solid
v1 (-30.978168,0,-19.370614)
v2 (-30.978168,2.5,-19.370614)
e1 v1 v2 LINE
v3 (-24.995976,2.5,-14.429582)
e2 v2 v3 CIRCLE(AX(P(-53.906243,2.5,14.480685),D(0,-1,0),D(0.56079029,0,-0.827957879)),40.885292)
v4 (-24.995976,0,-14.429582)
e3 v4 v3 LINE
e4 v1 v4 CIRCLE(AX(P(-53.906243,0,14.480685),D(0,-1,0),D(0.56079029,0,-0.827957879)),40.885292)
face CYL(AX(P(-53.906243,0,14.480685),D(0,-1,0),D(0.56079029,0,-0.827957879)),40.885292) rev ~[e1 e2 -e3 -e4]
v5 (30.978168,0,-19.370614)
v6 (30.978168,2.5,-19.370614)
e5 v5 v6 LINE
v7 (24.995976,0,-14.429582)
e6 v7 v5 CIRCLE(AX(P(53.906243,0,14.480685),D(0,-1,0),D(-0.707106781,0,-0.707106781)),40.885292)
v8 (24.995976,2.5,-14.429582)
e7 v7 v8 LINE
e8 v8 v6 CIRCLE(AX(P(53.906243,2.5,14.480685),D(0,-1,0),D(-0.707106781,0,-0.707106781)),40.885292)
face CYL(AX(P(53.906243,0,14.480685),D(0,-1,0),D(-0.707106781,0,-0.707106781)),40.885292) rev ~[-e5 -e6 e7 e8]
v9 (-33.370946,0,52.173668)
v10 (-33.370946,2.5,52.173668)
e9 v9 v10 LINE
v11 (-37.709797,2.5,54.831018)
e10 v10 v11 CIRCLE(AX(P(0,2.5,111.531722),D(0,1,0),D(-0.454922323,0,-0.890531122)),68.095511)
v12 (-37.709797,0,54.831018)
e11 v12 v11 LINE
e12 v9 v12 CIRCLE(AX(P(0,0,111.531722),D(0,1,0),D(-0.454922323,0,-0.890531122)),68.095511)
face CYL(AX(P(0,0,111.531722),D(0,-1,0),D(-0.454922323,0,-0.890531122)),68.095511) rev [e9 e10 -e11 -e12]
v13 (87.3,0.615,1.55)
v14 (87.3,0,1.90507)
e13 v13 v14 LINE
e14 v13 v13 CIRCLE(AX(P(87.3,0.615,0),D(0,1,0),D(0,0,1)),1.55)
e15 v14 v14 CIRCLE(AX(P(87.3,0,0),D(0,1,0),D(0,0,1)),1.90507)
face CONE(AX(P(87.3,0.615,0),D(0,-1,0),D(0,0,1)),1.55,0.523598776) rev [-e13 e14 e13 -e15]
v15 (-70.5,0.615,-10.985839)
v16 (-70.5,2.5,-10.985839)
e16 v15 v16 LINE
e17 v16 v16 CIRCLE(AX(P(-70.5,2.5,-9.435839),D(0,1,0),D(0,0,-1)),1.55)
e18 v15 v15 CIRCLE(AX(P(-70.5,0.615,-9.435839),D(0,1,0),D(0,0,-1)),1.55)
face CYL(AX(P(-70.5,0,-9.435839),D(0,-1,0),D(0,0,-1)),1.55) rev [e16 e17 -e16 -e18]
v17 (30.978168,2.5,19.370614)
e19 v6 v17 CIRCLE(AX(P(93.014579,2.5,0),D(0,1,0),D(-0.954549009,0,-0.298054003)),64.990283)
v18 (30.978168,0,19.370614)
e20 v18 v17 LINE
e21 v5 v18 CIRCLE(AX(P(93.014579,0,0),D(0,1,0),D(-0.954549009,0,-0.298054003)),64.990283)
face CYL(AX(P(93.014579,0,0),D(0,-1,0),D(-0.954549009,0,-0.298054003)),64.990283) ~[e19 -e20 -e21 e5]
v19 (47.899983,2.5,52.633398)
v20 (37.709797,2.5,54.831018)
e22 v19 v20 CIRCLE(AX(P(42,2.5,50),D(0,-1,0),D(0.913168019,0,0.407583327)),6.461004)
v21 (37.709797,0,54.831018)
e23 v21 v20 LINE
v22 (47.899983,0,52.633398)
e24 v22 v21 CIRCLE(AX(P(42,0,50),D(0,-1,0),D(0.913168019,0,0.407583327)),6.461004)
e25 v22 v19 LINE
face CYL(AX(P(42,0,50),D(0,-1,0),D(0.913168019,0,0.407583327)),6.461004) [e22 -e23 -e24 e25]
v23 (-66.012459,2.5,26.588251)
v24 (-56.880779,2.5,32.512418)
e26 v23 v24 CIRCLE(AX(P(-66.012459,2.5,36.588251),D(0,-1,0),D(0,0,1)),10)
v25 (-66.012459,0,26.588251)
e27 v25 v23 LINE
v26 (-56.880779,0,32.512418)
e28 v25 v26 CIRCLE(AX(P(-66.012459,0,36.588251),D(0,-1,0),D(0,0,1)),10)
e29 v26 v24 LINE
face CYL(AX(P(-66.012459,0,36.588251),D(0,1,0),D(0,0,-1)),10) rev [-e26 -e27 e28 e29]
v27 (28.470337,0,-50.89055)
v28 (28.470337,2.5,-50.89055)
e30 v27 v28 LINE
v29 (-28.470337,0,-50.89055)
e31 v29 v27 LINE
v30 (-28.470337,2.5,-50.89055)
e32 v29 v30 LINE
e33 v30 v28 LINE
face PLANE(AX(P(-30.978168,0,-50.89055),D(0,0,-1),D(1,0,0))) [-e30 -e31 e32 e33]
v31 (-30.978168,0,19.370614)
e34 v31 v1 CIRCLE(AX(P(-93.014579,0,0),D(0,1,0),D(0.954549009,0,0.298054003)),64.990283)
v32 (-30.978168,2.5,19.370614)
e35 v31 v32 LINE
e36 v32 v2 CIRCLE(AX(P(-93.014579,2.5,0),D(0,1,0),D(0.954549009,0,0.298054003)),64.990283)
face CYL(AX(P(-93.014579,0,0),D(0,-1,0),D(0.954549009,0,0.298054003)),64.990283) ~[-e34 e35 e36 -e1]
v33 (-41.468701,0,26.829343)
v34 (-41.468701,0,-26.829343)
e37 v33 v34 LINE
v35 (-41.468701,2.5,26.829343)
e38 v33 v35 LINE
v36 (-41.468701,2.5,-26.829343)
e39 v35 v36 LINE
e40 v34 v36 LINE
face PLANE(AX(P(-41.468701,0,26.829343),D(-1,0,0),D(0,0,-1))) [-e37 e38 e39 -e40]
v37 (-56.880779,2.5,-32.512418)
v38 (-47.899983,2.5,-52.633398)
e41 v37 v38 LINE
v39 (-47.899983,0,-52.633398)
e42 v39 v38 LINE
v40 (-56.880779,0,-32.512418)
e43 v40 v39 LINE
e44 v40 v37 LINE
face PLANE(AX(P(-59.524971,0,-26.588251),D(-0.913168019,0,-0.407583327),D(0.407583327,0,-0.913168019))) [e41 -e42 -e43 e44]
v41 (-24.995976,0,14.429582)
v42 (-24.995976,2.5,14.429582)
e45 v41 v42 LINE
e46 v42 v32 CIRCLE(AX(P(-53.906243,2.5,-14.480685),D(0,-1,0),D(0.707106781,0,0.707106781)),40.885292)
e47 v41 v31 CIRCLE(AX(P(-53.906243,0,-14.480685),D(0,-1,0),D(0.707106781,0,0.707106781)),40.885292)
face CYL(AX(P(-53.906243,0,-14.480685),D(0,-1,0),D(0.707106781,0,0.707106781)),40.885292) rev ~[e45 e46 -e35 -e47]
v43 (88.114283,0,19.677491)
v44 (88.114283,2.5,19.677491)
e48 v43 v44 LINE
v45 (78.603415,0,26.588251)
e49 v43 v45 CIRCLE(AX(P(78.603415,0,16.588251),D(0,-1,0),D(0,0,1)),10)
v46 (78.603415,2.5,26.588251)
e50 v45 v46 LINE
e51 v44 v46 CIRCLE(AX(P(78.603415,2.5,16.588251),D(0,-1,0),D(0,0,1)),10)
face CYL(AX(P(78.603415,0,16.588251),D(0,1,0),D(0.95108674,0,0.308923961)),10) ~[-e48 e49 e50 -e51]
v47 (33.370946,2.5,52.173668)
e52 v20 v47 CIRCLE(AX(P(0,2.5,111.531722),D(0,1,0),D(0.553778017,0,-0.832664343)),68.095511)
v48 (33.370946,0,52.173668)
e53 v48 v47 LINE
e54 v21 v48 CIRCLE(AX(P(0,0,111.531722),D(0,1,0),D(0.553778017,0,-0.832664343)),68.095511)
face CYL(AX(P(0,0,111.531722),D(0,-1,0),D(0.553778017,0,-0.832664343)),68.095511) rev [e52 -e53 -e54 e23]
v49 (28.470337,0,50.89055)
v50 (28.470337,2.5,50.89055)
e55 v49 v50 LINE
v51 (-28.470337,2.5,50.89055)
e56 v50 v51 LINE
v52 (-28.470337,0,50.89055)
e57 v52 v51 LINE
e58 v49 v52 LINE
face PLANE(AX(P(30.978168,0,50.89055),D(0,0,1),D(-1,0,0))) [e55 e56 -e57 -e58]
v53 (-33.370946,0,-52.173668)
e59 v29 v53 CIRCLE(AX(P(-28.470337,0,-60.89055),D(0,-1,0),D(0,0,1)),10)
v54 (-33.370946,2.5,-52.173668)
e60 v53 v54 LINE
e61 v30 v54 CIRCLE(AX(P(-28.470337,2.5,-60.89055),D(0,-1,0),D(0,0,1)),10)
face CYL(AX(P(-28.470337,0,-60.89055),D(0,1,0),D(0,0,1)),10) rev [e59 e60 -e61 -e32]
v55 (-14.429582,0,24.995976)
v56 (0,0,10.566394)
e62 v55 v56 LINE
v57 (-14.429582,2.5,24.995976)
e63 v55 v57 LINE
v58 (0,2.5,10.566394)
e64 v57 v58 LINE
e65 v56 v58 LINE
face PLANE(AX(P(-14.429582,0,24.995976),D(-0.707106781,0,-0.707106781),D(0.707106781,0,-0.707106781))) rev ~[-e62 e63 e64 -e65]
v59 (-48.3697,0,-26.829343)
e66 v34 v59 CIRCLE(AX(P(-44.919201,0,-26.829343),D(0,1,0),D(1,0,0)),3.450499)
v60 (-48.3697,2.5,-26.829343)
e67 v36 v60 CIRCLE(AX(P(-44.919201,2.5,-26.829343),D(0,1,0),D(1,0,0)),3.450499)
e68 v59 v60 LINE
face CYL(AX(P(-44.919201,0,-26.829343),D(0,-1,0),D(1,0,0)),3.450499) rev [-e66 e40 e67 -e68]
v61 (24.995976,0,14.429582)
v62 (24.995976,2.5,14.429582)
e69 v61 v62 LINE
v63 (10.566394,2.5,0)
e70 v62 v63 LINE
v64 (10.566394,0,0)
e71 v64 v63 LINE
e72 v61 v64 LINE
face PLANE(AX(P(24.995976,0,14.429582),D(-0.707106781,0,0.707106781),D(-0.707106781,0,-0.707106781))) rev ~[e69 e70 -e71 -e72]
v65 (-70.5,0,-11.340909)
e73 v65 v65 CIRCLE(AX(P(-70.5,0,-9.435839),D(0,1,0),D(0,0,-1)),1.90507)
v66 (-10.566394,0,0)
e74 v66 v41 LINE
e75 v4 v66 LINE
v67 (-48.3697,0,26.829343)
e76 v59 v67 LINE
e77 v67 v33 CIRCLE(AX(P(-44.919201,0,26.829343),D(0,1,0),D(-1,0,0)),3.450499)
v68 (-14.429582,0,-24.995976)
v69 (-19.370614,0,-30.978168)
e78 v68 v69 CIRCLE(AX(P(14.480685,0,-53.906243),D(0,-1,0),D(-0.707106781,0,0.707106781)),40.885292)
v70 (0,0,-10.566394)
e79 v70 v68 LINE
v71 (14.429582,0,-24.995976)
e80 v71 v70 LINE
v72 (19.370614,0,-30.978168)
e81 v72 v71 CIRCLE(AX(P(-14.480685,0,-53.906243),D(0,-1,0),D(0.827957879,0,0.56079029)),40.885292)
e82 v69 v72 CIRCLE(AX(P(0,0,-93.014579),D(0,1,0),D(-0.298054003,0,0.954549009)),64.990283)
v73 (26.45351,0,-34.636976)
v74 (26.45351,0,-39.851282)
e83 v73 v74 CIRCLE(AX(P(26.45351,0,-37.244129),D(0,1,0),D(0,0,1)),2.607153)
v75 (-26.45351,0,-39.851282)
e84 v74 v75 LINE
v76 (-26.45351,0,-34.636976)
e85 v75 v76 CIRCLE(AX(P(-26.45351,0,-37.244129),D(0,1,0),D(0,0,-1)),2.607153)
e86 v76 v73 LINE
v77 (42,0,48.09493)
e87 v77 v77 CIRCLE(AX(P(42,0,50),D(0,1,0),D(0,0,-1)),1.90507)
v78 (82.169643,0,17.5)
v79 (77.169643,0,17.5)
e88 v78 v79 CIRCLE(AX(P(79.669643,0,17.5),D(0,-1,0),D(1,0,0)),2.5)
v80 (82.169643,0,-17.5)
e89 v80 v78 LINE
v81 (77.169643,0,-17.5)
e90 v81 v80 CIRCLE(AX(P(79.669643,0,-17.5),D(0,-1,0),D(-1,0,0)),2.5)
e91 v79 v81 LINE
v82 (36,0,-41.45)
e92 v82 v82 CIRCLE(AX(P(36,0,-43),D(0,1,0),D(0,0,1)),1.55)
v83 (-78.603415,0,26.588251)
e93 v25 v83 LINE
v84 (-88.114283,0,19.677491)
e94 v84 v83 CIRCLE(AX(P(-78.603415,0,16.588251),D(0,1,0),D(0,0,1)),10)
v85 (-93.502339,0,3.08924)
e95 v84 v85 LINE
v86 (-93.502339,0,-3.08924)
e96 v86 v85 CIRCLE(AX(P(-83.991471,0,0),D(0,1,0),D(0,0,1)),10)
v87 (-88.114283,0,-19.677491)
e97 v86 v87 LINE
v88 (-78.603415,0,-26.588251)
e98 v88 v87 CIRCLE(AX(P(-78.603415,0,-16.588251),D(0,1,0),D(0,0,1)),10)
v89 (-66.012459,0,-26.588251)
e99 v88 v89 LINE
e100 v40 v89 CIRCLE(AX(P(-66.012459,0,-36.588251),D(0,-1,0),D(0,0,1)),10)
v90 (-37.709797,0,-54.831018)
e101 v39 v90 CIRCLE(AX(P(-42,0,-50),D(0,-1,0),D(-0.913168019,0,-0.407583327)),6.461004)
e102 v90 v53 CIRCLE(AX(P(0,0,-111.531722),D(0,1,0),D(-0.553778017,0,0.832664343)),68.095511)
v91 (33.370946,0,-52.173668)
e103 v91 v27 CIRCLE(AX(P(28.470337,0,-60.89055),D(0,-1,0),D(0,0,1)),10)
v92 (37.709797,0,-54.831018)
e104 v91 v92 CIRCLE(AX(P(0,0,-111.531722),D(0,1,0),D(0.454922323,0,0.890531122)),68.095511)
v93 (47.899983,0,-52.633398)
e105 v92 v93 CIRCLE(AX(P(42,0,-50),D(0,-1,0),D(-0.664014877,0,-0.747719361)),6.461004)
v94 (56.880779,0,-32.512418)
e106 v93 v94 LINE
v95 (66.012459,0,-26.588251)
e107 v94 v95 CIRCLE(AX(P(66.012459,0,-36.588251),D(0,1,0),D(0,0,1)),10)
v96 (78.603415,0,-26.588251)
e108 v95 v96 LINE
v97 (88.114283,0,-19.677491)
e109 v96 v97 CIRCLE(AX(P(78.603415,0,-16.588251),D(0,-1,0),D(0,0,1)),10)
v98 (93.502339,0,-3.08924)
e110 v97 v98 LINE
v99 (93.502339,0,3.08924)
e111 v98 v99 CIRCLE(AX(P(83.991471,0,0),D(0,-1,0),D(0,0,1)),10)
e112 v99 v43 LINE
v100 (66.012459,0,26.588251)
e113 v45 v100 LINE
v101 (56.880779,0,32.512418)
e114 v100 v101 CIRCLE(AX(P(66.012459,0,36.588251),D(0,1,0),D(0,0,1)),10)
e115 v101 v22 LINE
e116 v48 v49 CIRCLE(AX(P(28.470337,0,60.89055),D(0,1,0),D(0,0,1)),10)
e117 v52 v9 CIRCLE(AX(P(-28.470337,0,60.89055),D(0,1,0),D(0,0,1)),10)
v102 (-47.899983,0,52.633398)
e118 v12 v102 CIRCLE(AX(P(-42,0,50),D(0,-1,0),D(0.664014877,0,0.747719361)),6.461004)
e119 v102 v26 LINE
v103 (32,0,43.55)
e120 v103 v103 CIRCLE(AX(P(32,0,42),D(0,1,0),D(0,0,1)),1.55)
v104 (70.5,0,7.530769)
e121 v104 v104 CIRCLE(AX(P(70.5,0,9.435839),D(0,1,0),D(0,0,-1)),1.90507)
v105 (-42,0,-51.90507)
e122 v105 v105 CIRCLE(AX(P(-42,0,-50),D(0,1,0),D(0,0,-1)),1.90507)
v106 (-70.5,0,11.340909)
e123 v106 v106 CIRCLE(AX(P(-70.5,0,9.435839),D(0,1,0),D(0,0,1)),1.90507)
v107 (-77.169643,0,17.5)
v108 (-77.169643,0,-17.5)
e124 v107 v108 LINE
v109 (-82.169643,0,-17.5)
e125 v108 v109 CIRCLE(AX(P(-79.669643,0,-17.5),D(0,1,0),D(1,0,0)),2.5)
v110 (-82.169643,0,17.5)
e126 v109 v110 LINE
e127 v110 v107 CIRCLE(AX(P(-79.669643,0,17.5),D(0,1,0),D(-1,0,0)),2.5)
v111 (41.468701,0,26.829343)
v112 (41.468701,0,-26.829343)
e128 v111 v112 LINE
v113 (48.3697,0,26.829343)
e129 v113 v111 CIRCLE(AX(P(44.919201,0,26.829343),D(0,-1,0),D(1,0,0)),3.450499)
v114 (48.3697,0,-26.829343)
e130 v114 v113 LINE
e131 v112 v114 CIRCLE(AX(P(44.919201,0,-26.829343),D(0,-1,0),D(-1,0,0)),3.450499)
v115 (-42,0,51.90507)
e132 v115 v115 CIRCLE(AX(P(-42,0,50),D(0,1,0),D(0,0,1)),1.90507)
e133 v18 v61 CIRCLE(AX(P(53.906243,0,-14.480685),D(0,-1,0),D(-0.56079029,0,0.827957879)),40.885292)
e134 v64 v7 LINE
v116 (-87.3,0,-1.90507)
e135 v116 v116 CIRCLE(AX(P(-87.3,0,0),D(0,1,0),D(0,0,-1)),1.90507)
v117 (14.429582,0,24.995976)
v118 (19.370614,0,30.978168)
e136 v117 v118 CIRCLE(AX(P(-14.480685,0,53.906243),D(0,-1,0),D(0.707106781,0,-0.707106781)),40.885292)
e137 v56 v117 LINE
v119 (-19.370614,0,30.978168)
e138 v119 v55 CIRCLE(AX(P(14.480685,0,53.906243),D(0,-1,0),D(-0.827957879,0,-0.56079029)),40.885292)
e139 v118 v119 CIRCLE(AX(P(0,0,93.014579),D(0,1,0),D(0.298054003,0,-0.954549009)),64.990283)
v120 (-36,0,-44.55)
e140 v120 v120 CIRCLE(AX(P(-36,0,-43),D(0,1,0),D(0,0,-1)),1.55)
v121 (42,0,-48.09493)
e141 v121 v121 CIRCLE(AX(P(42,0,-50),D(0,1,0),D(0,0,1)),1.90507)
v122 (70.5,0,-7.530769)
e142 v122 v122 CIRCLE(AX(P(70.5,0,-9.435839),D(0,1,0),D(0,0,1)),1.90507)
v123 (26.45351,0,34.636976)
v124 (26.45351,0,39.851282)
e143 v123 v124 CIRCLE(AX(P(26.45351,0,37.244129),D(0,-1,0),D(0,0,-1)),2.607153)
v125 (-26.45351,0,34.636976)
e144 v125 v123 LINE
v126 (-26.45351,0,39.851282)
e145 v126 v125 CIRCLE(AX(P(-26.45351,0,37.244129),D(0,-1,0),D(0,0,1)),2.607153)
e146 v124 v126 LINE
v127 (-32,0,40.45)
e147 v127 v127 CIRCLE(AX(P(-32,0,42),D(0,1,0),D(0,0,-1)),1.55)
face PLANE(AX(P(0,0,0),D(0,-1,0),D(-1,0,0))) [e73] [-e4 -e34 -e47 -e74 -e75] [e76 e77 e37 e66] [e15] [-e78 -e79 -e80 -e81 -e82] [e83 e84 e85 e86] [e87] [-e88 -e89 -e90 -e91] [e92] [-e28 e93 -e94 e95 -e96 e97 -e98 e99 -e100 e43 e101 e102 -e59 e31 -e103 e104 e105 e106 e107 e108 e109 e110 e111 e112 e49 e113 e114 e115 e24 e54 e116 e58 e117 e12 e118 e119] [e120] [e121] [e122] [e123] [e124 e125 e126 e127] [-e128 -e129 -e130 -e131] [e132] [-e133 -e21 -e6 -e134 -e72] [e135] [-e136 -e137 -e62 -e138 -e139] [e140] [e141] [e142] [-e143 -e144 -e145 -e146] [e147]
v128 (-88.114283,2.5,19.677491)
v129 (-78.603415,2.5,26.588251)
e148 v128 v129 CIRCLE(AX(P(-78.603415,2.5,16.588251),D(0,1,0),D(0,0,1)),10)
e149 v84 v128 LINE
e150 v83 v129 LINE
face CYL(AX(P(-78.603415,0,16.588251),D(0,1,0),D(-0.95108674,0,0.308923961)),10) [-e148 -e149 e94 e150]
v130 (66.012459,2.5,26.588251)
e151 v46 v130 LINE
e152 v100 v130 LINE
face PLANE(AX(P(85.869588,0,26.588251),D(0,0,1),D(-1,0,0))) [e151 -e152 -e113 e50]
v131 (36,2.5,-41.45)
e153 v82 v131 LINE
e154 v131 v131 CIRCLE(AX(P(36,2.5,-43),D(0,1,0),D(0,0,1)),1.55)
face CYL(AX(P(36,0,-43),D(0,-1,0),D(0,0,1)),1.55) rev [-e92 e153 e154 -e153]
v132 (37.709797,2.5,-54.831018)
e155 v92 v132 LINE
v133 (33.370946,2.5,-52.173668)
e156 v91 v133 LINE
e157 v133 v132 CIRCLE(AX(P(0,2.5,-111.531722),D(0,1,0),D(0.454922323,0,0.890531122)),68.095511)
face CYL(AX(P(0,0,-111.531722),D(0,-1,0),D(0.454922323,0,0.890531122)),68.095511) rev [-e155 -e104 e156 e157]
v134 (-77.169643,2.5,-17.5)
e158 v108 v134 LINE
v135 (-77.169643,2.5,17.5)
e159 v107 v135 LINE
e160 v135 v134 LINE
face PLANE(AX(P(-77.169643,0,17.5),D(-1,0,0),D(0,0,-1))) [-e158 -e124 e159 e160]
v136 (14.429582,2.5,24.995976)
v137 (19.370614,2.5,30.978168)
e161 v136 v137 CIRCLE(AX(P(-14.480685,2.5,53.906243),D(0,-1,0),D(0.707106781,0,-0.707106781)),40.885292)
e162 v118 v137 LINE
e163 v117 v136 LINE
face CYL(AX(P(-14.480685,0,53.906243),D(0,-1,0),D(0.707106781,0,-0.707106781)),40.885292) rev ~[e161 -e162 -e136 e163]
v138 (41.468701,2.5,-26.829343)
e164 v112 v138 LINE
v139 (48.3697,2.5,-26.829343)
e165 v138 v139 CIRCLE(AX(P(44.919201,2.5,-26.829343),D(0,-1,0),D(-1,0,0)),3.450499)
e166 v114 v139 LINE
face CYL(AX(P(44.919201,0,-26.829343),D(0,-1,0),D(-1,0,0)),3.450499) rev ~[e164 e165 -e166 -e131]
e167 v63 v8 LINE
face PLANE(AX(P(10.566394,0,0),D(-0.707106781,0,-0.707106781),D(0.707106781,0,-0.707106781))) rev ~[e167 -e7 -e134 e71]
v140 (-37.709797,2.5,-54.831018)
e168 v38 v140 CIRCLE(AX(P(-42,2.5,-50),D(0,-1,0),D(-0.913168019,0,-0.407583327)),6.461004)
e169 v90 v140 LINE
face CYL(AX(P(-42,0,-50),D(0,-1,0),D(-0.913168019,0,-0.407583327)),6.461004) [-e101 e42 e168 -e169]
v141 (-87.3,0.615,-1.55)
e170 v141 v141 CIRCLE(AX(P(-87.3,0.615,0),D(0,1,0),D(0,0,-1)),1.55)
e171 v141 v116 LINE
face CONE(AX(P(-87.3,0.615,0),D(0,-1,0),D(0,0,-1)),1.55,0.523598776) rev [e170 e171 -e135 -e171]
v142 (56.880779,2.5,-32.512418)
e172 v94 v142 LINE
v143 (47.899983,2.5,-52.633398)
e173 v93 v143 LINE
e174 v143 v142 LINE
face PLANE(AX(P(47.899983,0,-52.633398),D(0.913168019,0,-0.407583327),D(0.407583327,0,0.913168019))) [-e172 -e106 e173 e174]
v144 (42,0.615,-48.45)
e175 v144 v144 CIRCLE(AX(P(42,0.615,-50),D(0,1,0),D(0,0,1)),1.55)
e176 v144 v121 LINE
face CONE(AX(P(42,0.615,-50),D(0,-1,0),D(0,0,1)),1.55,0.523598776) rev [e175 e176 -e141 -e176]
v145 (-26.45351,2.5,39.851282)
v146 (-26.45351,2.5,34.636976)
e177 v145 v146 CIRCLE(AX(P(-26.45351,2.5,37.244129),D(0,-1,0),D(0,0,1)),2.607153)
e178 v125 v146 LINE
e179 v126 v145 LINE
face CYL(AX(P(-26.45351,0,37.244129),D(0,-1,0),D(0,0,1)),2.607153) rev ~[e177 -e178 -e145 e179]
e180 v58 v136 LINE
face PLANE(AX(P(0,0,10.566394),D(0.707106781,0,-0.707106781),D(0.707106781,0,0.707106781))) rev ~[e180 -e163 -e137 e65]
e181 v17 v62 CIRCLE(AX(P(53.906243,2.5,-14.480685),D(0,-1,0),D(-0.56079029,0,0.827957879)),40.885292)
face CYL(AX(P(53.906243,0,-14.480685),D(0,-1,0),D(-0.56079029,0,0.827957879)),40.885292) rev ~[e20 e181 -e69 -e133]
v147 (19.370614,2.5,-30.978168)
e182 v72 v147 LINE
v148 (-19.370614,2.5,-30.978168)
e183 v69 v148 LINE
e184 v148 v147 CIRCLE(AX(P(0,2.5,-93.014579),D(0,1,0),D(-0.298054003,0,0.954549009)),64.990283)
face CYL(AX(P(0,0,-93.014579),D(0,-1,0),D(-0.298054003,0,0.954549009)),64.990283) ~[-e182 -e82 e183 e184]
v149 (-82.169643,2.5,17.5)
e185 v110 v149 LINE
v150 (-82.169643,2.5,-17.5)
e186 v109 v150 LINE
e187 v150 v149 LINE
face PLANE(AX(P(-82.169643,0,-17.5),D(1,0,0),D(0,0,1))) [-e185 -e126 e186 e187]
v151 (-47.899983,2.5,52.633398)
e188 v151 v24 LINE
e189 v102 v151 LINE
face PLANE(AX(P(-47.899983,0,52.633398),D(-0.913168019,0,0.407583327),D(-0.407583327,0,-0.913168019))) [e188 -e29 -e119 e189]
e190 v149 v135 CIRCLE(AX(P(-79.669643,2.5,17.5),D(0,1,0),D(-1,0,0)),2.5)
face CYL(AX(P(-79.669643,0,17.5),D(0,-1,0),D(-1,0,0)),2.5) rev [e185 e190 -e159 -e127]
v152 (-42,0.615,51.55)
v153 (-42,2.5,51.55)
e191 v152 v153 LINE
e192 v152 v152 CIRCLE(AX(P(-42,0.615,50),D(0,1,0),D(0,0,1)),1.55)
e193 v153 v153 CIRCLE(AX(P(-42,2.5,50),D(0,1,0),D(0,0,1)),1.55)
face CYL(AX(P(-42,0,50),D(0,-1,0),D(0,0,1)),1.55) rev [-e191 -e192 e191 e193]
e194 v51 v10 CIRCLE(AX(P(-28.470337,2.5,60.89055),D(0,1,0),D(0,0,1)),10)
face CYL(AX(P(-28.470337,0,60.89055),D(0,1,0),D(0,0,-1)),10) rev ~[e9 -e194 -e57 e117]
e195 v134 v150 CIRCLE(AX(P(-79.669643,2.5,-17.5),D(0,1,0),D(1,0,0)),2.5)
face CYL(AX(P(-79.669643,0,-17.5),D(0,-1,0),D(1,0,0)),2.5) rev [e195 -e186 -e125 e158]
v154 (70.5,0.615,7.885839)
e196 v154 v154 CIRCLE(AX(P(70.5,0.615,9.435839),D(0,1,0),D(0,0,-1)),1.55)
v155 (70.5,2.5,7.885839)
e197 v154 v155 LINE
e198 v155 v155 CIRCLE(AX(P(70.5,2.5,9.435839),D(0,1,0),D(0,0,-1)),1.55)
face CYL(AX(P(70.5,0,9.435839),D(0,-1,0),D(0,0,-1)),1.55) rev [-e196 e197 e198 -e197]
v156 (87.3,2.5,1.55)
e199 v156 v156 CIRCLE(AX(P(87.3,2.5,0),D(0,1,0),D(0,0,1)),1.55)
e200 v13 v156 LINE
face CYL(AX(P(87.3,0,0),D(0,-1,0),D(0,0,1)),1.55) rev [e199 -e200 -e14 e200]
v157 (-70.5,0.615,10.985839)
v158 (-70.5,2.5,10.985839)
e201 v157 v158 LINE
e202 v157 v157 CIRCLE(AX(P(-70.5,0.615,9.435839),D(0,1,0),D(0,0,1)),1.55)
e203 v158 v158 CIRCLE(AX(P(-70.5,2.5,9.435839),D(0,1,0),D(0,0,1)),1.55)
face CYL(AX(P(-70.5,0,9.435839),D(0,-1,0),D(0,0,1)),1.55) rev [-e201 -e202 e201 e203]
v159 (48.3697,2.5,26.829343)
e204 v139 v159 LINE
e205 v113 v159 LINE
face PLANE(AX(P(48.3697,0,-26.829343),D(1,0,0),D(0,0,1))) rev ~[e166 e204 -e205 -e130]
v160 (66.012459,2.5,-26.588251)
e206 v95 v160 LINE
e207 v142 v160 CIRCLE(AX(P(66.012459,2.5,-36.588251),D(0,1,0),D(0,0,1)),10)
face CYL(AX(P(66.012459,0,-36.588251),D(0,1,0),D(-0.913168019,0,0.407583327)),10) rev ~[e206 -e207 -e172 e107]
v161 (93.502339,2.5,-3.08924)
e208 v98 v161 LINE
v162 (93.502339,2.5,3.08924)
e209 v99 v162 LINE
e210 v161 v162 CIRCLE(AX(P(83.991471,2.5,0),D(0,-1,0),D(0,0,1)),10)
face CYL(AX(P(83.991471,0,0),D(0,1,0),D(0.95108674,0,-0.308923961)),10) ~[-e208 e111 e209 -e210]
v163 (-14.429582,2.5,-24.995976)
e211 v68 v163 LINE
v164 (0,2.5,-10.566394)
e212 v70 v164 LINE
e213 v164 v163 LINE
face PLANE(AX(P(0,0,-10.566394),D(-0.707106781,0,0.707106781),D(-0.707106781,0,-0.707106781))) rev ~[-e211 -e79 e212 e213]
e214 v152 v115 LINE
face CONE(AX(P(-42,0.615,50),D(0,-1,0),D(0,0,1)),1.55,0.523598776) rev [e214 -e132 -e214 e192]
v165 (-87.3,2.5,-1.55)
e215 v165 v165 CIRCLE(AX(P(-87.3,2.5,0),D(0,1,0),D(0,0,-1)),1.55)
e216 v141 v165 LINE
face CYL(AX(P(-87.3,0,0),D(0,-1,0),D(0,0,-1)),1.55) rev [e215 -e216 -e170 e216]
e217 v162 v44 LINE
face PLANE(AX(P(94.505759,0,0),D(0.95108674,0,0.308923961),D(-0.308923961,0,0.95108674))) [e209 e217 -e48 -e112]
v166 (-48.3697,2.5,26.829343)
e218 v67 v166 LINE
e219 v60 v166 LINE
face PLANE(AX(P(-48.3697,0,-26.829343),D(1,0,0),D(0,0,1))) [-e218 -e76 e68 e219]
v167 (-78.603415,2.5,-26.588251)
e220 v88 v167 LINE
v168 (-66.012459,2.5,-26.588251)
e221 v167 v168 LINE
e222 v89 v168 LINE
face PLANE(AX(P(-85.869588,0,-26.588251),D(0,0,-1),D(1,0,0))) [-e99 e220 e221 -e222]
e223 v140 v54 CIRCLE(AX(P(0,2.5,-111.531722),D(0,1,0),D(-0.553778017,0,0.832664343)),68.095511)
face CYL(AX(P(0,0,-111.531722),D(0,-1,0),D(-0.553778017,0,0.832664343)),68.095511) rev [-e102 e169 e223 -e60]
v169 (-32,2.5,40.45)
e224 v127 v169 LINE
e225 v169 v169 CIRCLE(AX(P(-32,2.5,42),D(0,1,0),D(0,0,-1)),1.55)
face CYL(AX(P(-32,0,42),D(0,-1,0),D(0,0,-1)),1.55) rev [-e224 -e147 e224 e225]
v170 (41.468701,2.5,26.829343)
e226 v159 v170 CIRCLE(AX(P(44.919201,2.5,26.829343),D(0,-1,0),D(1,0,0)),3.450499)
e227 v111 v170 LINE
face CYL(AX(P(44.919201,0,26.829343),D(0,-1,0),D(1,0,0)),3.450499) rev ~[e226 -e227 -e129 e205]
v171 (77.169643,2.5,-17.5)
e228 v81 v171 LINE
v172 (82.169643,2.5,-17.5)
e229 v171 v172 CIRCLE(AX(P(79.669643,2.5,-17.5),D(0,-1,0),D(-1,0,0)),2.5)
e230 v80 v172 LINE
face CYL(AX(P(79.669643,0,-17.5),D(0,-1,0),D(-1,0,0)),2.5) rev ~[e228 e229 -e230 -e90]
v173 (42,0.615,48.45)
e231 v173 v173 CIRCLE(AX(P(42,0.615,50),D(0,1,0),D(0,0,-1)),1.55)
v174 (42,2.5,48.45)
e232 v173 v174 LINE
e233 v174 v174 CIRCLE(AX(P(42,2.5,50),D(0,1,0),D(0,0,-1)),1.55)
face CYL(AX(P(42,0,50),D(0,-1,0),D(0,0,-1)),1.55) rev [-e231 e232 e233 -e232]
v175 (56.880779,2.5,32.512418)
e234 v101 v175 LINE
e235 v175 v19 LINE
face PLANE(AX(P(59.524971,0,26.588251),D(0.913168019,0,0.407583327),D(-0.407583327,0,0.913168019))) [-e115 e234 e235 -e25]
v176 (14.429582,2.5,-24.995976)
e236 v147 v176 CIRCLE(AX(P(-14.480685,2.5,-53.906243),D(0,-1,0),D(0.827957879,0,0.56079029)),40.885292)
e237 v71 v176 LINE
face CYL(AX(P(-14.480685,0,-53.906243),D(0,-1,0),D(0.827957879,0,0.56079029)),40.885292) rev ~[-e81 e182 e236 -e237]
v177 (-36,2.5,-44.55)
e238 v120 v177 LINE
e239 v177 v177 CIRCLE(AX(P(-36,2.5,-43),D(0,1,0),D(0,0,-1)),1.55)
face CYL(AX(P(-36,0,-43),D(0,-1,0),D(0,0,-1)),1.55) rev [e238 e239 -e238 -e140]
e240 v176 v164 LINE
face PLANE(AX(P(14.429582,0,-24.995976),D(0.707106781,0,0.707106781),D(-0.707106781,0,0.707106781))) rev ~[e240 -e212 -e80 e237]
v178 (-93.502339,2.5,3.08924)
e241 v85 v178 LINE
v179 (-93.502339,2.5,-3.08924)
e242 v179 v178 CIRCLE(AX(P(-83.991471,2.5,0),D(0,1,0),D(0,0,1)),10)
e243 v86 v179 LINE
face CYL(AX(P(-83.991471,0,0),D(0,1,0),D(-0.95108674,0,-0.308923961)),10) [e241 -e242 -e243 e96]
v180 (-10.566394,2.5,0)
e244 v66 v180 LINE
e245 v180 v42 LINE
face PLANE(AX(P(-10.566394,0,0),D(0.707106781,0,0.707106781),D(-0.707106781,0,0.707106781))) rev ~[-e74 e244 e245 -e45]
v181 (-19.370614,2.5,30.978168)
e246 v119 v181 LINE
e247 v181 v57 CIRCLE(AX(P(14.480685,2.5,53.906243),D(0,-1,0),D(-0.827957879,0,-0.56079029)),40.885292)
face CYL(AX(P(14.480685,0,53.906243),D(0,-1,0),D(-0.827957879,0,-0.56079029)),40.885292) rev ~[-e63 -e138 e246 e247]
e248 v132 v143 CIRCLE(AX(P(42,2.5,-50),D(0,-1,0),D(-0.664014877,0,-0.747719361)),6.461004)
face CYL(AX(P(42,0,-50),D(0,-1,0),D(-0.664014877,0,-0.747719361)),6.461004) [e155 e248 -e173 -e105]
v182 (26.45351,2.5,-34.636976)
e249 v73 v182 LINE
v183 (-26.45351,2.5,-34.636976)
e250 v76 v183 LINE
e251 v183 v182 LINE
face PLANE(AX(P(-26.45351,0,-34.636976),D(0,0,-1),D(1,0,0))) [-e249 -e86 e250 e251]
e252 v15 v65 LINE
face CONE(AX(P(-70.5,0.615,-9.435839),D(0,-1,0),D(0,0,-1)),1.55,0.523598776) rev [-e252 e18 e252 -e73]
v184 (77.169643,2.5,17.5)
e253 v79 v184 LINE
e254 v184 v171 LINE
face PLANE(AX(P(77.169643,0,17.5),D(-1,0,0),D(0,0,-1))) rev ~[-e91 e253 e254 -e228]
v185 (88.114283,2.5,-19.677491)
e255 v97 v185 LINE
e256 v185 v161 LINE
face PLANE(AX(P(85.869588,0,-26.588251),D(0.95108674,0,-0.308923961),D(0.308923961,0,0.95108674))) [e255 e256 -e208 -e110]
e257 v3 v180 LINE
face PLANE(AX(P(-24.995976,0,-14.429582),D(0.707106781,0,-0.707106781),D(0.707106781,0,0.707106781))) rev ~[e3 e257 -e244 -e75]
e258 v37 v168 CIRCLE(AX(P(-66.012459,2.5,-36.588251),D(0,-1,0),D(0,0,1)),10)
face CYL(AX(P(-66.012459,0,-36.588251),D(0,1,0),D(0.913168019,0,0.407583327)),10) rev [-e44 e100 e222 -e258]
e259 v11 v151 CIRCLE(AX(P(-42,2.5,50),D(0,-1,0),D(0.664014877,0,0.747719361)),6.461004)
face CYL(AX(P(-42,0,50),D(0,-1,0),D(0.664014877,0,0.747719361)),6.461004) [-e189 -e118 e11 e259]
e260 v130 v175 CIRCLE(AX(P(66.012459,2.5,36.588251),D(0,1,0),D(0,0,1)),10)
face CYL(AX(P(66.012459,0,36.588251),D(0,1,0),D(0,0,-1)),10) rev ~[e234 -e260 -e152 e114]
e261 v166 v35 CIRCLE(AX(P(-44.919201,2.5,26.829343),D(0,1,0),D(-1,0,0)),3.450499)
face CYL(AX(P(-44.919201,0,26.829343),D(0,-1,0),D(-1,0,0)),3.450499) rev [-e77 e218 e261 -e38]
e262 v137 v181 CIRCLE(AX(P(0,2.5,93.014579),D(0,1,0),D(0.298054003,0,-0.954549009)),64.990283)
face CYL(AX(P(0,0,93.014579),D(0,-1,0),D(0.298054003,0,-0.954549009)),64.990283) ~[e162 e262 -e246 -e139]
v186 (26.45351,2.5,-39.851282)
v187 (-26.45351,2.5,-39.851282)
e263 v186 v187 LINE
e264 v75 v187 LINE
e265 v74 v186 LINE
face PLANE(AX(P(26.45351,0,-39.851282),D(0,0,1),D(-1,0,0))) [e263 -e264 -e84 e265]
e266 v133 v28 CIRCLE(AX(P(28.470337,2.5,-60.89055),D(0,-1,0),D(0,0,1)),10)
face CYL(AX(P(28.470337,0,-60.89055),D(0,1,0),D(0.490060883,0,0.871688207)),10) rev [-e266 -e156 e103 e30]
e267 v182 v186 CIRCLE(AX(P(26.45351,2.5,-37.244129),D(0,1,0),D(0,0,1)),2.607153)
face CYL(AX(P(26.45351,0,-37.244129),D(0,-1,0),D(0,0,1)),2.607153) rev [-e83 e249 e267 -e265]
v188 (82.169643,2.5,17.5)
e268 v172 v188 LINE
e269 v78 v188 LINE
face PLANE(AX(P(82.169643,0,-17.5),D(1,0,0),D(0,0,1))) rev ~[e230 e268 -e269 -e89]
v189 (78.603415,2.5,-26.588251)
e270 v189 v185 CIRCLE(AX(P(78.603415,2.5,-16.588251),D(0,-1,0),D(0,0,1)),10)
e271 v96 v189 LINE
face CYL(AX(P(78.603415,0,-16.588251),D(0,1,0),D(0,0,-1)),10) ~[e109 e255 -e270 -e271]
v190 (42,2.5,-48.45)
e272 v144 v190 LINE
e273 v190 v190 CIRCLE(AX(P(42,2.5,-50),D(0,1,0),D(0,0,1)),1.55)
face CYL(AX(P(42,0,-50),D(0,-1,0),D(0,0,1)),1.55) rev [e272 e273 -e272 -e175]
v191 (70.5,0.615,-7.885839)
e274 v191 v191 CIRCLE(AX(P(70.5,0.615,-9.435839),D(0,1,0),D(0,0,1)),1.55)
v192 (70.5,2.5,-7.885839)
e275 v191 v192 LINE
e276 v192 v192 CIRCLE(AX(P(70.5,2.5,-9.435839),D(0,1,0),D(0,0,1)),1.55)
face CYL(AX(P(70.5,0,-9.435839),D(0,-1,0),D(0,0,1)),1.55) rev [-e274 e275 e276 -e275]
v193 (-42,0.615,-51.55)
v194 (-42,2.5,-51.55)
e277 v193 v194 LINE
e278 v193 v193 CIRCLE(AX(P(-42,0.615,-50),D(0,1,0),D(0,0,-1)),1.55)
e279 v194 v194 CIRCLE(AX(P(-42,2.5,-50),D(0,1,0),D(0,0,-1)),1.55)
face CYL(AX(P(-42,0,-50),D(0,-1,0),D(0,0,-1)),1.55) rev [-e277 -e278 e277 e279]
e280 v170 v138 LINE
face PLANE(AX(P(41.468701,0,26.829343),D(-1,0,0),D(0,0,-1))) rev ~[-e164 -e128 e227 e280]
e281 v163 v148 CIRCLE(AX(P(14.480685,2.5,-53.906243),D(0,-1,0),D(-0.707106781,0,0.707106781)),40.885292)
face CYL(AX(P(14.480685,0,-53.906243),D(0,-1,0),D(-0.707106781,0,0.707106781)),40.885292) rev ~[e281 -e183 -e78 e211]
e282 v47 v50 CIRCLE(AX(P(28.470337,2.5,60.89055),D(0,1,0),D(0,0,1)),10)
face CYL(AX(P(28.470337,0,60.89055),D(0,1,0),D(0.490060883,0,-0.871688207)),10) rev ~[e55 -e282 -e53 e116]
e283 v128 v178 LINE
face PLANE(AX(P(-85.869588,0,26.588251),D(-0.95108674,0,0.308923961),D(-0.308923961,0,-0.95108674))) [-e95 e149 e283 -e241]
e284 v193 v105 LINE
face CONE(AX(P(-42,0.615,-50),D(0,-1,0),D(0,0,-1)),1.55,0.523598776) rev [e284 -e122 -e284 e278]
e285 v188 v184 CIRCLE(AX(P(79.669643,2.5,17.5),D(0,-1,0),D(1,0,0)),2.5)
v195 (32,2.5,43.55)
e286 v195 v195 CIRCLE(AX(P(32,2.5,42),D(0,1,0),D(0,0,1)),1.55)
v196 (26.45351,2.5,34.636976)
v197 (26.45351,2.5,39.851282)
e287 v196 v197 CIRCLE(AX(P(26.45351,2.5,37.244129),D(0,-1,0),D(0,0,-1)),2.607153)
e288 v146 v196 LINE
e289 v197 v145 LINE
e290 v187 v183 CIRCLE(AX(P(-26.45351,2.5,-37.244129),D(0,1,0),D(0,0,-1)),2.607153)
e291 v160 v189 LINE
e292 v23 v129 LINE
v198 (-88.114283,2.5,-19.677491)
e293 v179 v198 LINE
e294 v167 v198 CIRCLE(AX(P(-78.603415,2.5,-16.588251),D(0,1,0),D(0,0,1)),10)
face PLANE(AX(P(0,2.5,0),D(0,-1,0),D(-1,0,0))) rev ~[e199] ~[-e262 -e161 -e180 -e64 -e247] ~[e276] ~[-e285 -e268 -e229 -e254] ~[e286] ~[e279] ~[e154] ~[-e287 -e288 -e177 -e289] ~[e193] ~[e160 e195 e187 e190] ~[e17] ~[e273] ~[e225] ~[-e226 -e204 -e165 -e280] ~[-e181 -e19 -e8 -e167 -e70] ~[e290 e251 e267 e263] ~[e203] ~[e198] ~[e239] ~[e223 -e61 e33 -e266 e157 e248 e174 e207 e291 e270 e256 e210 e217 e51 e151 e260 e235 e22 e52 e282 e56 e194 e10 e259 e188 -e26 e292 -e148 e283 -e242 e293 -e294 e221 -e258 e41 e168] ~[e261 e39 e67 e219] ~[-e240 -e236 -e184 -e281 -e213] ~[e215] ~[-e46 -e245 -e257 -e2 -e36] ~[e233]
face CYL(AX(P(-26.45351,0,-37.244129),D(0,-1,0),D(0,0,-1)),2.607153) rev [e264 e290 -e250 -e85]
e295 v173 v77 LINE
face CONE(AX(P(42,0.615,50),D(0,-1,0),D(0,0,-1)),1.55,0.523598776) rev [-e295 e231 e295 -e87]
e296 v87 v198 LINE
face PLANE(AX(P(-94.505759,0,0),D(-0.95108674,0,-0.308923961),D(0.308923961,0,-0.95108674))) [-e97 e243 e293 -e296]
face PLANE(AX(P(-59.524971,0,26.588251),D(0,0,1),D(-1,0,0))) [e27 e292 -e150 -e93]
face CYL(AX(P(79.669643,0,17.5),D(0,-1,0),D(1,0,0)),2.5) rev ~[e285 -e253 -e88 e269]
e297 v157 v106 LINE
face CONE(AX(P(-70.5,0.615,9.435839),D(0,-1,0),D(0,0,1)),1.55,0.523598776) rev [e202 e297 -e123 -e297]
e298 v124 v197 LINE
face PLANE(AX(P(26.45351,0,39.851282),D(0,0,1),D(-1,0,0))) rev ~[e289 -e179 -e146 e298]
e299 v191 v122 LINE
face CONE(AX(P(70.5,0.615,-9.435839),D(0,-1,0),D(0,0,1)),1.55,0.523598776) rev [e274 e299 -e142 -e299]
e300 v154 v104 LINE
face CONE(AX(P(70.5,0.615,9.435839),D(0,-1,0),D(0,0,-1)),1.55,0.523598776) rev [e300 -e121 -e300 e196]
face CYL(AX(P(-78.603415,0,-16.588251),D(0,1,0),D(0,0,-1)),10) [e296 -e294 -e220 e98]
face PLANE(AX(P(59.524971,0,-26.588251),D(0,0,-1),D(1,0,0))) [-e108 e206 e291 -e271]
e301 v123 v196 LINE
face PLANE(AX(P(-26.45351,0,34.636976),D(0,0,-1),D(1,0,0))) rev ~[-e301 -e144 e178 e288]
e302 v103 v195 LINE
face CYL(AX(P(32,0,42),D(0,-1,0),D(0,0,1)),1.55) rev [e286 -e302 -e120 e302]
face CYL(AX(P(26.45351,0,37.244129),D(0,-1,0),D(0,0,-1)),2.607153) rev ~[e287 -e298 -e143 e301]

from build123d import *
from OCP.BRepFilletAPI import BRepFilletAPI_MakeChamfer

# Parameters (mm, degrees)
SKETCH_1_R      = 1.55
EXTRUDE_1_DEPTH = 2.5
FILLET_1_R      = 10
CHAMFER_2_SIZE  = 0.615
CHAMFER_2_SIZE2 = 0.355070416


with BuildPart() as part:
    # 草图1 → 凸台-拉伸1 (new body)
    with BuildSketch(Plane(origin=(0, 0, 0), x_dir=(1, 0, 0), z_dir=(0, 1, 0))):
        with BuildLine():
            Line((47.899982554, 52.633397656), (59.52497064, 26.588251477))
            Line((59.52497064, 26.588251477), (85.869588061, 26.588251477))
            Line((85.869588061, 26.588251477), (94.505759306, 0))
            Line((94.505759306, 0), (85.869588061, -26.588251477))
            Line((85.869588061, -26.588251477), (59.52497064, -26.588251477))
            Line((59.52497064, -26.588251477), (47.899982554, -52.633397656))
            ThreePointArc((47.899982554, -52.633397656), (43.362068791, -56.315801292), (37.709796983, -54.831018053))
            ThreePointArc((37.709796983, -54.831018053), (34.400449937, -52.764318952), (30.978168019, -50.89055015))
            Line((30.978168019, -50.89055015), (-30.978168019, -50.89055015))
            ThreePointArc((-30.978168019, -50.89055015), (-34.400449937, -52.764318952), (-37.709796983, -54.831018053))
            ThreePointArc((-37.709796983, -54.831018053), (-43.362068791, -56.315801292), (-47.899982554, -52.633397656))
            Line((-47.899982554, -52.633397656), (-59.52497064, -26.588251477))
            Line((-59.52497064, -26.588251477), (-85.869588061, -26.588251477))
            Line((-85.869588061, -26.588251477), (-94.505759306, 0))
            Line((-94.505759306, 0), (-85.869588061, 26.588251477))
            Line((-85.869588061, 26.588251477), (-59.52497064, 26.588251477))
            Line((-59.52497064, 26.588251477), (-47.899982554, 52.633397656))
            ThreePointArc((-47.899982554, 52.633397656), (-43.362068791, 56.315801292), (-37.709796983, 54.831018053))
            ThreePointArc((-37.709796983, 54.831018053), (-34.400449937, 52.764318952), (-30.978168019, 50.89055015))
            Line((-30.978168019, 50.89055015), (30.978168019, 50.89055015))
            ThreePointArc((30.978168019, 50.89055015), (34.400449937, 52.764318952), (37.709796983, 54.831018053))
            ThreePointArc((37.709796983, 54.831018053), (43.362068791, 56.315801292), (47.899982554, 52.633397656))
        make_face()
        with Locations(Location((42, 50, 0), (0, 0, 270))):
            Circle(SKETCH_1_R, mode=Mode.SUBTRACT)
        with Locations(Location((42, -50, 0), (0, 0, 90))):
            Circle(SKETCH_1_R, mode=Mode.SUBTRACT)
        with Locations(Location((-42, -50, 0), (0, 0, 270))):
            Circle(SKETCH_1_R, mode=Mode.SUBTRACT)
        with Locations(Location((-42, 50, 0), (0, 0, 90))):
            Circle(SKETCH_1_R, mode=Mode.SUBTRACT)
        with Locations(Location((36, 43, 0), (0, 0, 270))):
            Circle(SKETCH_1_R, mode=Mode.SUBTRACT)
        with Locations(Location((32, -42, 0), (0, 0, 270))):
            Circle(SKETCH_1_R, mode=Mode.SUBTRACT)
        with Locations(Location((-32, -42, 0), (0, 0, 90))):
            Circle(SKETCH_1_R, mode=Mode.SUBTRACT)
        with Locations(Location((-36, 43, 0), (0, 0, 90))):
            Circle(SKETCH_1_R, mode=Mode.SUBTRACT)
        with Locations(Location((70.5, 9.435839055, 0), (0, 0, 270))):
            Circle(SKETCH_1_R, mode=Mode.SUBTRACT)
        with Locations(Location((70.5, -9.435839055, 0), (0, 0, 90))):
            Circle(SKETCH_1_R, mode=Mode.SUBTRACT)
        with Locations(Location((-70.5, -9.435839055, 0), (0, 0, 270))):
            Circle(SKETCH_1_R, mode=Mode.SUBTRACT)
        with Locations(Location((-70.5, 9.435839055, 0), (0, 0, 90))):
            Circle(SKETCH_1_R, mode=Mode.SUBTRACT)
        with Locations(Location((87.3, 0, 0), (0, 0, 270))):
            Circle(SKETCH_1_R, mode=Mode.SUBTRACT)
        with Locations(Location((-87.3, 0, 0), (0, 0, 90))):
            Circle(SKETCH_1_R, mode=Mode.SUBTRACT)
        with BuildLine():
            Line((77.169642998, -17.5), (77.169642998, 17.5))
            ThreePointArc((77.169642998, 17.5), (79.669642998, 20), (82.169642998, 17.5))
            Line((82.169642998, 17.5), (82.169642998, -17.5))
            ThreePointArc((82.169642998, -17.5), (79.669642998, -20), (77.169642998, -17.5))
        make_face(mode=Mode.SUBTRACT)
        with BuildLine():
            Line((-77.169642998, -17.5), (-77.169642998, 17.5))
            ThreePointArc((-77.169642998, 17.5), (-79.669642998, 20), (-82.169642998, 17.5))
            Line((-82.169642998, 17.5), (-82.169642998, -17.5))
            ThreePointArc((-82.169642998, -17.5), (-79.669642998, -20), (-77.169642998, -17.5))
        make_face(mode=Mode.SUBTRACT)
        with BuildLine():
            Line((-24.995975583, 14.429581723), (-10.56639386, 0))
            Line((-10.56639386, 0), (-24.995975583, -14.429581723))
            ThreePointArc((-24.995975583, -14.429581723), (-27.869597938, -17.042325553), (-30.978168019, -19.370614155))
            ThreePointArc((-30.978168019, -19.370614155), (-28.024295248, 0), (-30.978168019, 19.370614155))
            ThreePointArc((-30.978168019, 19.370614155), (-27.869597938, 17.042325553), (-24.995975583, 14.429581723))
        make_face(mode=Mode.SUBTRACT)
        with BuildLine():
            Line((14.429581723, 24.995975583), (0, 10.56639386))
            Line((0, 10.56639386), (-14.429581723, 24.995975583))
            ThreePointArc((-14.429581723, 24.995975583), (-17.042325553, 27.869597938), (-19.370614155, 30.978168019))
            ThreePointArc((-19.370614155, 30.978168019), (0, 28.024295248), (19.370614155, 30.978168019))
            ThreePointArc((19.370614155, 30.978168019), (17.042325553, 27.869597938), (14.429581723, 24.995975583))
        make_face(mode=Mode.SUBTRACT)
        with BuildLine():
            Line((24.995975583, -14.429581723), (10.56639386, 0))
            Line((10.56639386, 0), (24.995975583, 14.429581723))
            ThreePointArc((24.995975583, 14.429581723), (27.869597938, 17.042325553), (30.978168019, 19.370614155))
            ThreePointArc((30.978168019, 19.370614155), (28.024295248, 0), (30.978168019, -19.370614155))
            ThreePointArc((30.978168019, -19.370614155), (27.869597938, -17.042325553), (24.995975583, -14.429581723))
        make_face(mode=Mode.SUBTRACT)
        with BuildLine():
            Line((-14.429581723, -24.995975583), (0, -10.56639386))
            Line((0, -10.56639386), (14.429581723, -24.995975583))
            ThreePointArc((14.429581723, -24.995975583), (17.042325553, -27.869597938), (19.370614155, -30.978168019))
            ThreePointArc((19.370614155, -30.978168019), (0, -28.024295248), (-19.370614155, -30.978168019))
            ThreePointArc((-19.370614155, -30.978168019), (-17.042325553, -27.869597938), (-14.429581723, -24.995975583))
        make_face(mode=Mode.SUBTRACT)
        with BuildLine():
            Line((41.468701347, -26.829343455), (41.468701347, 26.829343455))
            ThreePointArc((41.468701347, 26.829343455), (44.919200659, 30.279842767), (48.36969997, 26.829343455))
            Line((48.36969997, 26.829343455), (48.36969997, -26.829343455))
            ThreePointArc((48.36969997, -26.829343455), (44.919200659, -30.279842767), (41.468701347, -26.829343455))
        make_face(mode=Mode.SUBTRACT)
        with BuildLine():
            Line((-26.453510137, -34.636976429), (26.453510137, -34.636976429))
            ThreePointArc((26.453510137, -34.636976429), (29.060662927, -37.244129219), (26.453510137, -39.851282009))
            Line((26.453510137, -39.851282009), (-26.453510137, -39.851282009))
            ThreePointArc((-26.453510137, -39.851282009), (-29.060662927, -37.244129219), (-26.453510137, -34.636976429))
        make_face(mode=Mode.SUBTRACT)
        with BuildLine():
            Line((-26.453510137, 34.636976429), (26.453510137, 34.636976429))
            ThreePointArc((26.453510137, 34.636976429), (29.060662927, 37.244129219), (26.453510137, 39.851282009))
            Line((26.453510137, 39.851282009), (-26.453510137, 39.851282009))
            ThreePointArc((-26.453510137, 39.851282009), (-29.060662927, 37.244129219), (-26.453510137, 34.636976429))
        make_face(mode=Mode.SUBTRACT)
        with BuildLine():
            Line((-41.468701347, -26.829343455), (-41.468701347, 26.829343455))
            ThreePointArc((-41.468701347, 26.829343455), (-44.919200659, 30.279842767), (-48.36969997, 26.829343455))
            Line((-48.36969997, 26.829343455), (-48.36969997, -26.829343455))
            ThreePointArc((-48.36969997, -26.829343455), (-44.919200659, -30.279842767), (-41.468701347, -26.829343455))
        make_face(mode=Mode.SUBTRACT)
    extrude(amount=EXTRUDE_1_DEPTH)

    # 圆角1
    fillet_1_edges = [part.edges().sort_by_distance(p)[0] for p in [
        (59.52497064, 1.25, -26.588251477),
        (85.869588061, 1.25, -26.588251477),
        (94.505759306, 1.25, 0),
        (85.869588061, 1.25, 26.588251477),
        (59.52497064, 1.25, 26.588251477),
        (30.978168019, 1.25, 50.89055015),
        (-30.978168019, 1.25, 50.89055015),
        (-59.52497064, 1.25, 26.588251477),
        (-85.869588061, 1.25, 26.588251477),
        (-94.505759306, 1.25, 0),
        (-85.869588061, 1.25, -26.588251477),
        (-59.52497064, 1.25, -26.588251477),
        (-30.978168019, 1.25, -50.89055015),
        (30.978168019, 1.25, -50.89055015),
    ]]
    fillet(fillet_1_edges, radius=FILLET_1_R)

    # 倒角2: one chamfer whose edges measure the first distance from different faces: ONE call of the kernel's chamfer builder (chamfer() names one face for all edges)
    chamfer_2_edges_1 = [part.edges().sort_by_distance(p)[0] for p in [
        (70.5, 0, 10.985839055),
    ]]
    chamfer_2_side_1 = [part.faces().sort_by_distance(p)[0] for p in [
        (70.5, 1.25, 10.985839055),
    ]]
    chamfer_2_edges_2 = [part.edges().sort_by_distance(p)[0] for p in [
        (-70.5, 0, 7.885839055),
    ]]
    chamfer_2_side_2 = [part.faces().sort_by_distance(p)[0] for p in [
        (-70.5, 1.25, 7.885839055),
    ]]
    chamfer_2_edges_3 = [part.edges().sort_by_distance(p)[0] for p in [
        (70.5, 0, -10.985839055),
    ]]
    chamfer_2_side_3 = [part.faces().sort_by_distance(p)[0] for p in [
        (70.5, 1.25, -10.985839055),
    ]]
    chamfer_2_edges_4 = [part.edges().sort_by_distance(p)[0] for p in [
        (-70.5, 0, -7.885839055),
    ]]
    chamfer_2_side_4 = [part.faces().sort_by_distance(p)[0] for p in [
        (-70.5, 1.25, -7.885839055),
    ]]
    chamfer_2_edges_5 = [part.edges().sort_by_distance(p)[0] for p in [
        (87.3, 0, -1.55),
    ]]
    chamfer_2_side_5 = [part.faces().sort_by_distance(p)[0] for p in [
        (87.3, 1.25, -1.55),
    ]]
    chamfer_2_edges_6 = [part.edges().sort_by_distance(p)[0] for p in [
        (-87.3, 0, 1.55),
    ]]
    chamfer_2_side_6 = [part.faces().sort_by_distance(p)[0] for p in [
        (-87.3, 1.25, 1.55),
    ]]
    chamfer_2_edges_7 = [part.edges().sort_by_distance(p)[0] for p in [
        (-42, 0, 48.45),
    ]]
    chamfer_2_side_7 = [part.faces().sort_by_distance(p)[0] for p in [
        (-42, 1.25, 48.45),
    ]]
    chamfer_2_edges_8 = [part.edges().sort_by_distance(p)[0] for p in [
        (-42, 0, -48.45),
    ]]
    chamfer_2_side_8 = [part.faces().sort_by_distance(p)[0] for p in [
        (-42, 1.25, -48.45),
    ]]
    chamfer_2_edges_9 = [part.edges().sort_by_distance(p)[0] for p in [
        (42, 0, -51.55),
    ]]
    chamfer_2_side_9 = [part.faces().sort_by_distance(p)[0] for p in [
        (42, 1.25, -51.55),
    ]]
    chamfer_2_edges_10 = [part.edges().sort_by_distance(p)[0] for p in [
        (42, 0, 51.55),
    ]]
    chamfer_2_side_10 = [part.faces().sort_by_distance(p)[0] for p in [
        (42, 1.25, 51.55),
    ]]
    chamfer_2 = BRepFilletAPI_MakeChamfer(part.part.solid().wrapped)
    for e in chamfer_2_edges_1:
        chamfer_2.Add(CHAMFER_2_SIZE, CHAMFER_2_SIZE2, e.wrapped, chamfer_2_side_1[0].wrapped)  # the first distance lies on this face
    for e in chamfer_2_edges_2:
        chamfer_2.Add(CHAMFER_2_SIZE, CHAMFER_2_SIZE2, e.wrapped, chamfer_2_side_2[0].wrapped)  # the first distance lies on this face
    for e in chamfer_2_edges_3:
        chamfer_2.Add(CHAMFER_2_SIZE, CHAMFER_2_SIZE2, e.wrapped, chamfer_2_side_3[0].wrapped)  # the first distance lies on this face
    for e in chamfer_2_edges_4:
        chamfer_2.Add(CHAMFER_2_SIZE, CHAMFER_2_SIZE2, e.wrapped, chamfer_2_side_4[0].wrapped)  # the first distance lies on this face
    for e in chamfer_2_edges_5:
        chamfer_2.Add(CHAMFER_2_SIZE, CHAMFER_2_SIZE2, e.wrapped, chamfer_2_side_5[0].wrapped)  # the first distance lies on this face
    for e in chamfer_2_edges_6:
        chamfer_2.Add(CHAMFER_2_SIZE, CHAMFER_2_SIZE2, e.wrapped, chamfer_2_side_6[0].wrapped)  # the first distance lies on this face
    for e in chamfer_2_edges_7:
        chamfer_2.Add(CHAMFER_2_SIZE, CHAMFER_2_SIZE2, e.wrapped, chamfer_2_side_7[0].wrapped)  # the first distance lies on this face
    for e in chamfer_2_edges_8:
        chamfer_2.Add(CHAMFER_2_SIZE, CHAMFER_2_SIZE2, e.wrapped, chamfer_2_side_8[0].wrapped)  # the first distance lies on this face
    for e in chamfer_2_edges_9:
        chamfer_2.Add(CHAMFER_2_SIZE, CHAMFER_2_SIZE2, e.wrapped, chamfer_2_side_9[0].wrapped)  # the first distance lies on this face
    for e in chamfer_2_edges_10:
        chamfer_2.Add(CHAMFER_2_SIZE, CHAMFER_2_SIZE2, e.wrapped, chamfer_2_side_10[0].wrapped)  # the first distance lies on this face
    add(Compound.cast(chamfer_2.Shape()), mode=Mode.REPLACE)


solid = part.part
